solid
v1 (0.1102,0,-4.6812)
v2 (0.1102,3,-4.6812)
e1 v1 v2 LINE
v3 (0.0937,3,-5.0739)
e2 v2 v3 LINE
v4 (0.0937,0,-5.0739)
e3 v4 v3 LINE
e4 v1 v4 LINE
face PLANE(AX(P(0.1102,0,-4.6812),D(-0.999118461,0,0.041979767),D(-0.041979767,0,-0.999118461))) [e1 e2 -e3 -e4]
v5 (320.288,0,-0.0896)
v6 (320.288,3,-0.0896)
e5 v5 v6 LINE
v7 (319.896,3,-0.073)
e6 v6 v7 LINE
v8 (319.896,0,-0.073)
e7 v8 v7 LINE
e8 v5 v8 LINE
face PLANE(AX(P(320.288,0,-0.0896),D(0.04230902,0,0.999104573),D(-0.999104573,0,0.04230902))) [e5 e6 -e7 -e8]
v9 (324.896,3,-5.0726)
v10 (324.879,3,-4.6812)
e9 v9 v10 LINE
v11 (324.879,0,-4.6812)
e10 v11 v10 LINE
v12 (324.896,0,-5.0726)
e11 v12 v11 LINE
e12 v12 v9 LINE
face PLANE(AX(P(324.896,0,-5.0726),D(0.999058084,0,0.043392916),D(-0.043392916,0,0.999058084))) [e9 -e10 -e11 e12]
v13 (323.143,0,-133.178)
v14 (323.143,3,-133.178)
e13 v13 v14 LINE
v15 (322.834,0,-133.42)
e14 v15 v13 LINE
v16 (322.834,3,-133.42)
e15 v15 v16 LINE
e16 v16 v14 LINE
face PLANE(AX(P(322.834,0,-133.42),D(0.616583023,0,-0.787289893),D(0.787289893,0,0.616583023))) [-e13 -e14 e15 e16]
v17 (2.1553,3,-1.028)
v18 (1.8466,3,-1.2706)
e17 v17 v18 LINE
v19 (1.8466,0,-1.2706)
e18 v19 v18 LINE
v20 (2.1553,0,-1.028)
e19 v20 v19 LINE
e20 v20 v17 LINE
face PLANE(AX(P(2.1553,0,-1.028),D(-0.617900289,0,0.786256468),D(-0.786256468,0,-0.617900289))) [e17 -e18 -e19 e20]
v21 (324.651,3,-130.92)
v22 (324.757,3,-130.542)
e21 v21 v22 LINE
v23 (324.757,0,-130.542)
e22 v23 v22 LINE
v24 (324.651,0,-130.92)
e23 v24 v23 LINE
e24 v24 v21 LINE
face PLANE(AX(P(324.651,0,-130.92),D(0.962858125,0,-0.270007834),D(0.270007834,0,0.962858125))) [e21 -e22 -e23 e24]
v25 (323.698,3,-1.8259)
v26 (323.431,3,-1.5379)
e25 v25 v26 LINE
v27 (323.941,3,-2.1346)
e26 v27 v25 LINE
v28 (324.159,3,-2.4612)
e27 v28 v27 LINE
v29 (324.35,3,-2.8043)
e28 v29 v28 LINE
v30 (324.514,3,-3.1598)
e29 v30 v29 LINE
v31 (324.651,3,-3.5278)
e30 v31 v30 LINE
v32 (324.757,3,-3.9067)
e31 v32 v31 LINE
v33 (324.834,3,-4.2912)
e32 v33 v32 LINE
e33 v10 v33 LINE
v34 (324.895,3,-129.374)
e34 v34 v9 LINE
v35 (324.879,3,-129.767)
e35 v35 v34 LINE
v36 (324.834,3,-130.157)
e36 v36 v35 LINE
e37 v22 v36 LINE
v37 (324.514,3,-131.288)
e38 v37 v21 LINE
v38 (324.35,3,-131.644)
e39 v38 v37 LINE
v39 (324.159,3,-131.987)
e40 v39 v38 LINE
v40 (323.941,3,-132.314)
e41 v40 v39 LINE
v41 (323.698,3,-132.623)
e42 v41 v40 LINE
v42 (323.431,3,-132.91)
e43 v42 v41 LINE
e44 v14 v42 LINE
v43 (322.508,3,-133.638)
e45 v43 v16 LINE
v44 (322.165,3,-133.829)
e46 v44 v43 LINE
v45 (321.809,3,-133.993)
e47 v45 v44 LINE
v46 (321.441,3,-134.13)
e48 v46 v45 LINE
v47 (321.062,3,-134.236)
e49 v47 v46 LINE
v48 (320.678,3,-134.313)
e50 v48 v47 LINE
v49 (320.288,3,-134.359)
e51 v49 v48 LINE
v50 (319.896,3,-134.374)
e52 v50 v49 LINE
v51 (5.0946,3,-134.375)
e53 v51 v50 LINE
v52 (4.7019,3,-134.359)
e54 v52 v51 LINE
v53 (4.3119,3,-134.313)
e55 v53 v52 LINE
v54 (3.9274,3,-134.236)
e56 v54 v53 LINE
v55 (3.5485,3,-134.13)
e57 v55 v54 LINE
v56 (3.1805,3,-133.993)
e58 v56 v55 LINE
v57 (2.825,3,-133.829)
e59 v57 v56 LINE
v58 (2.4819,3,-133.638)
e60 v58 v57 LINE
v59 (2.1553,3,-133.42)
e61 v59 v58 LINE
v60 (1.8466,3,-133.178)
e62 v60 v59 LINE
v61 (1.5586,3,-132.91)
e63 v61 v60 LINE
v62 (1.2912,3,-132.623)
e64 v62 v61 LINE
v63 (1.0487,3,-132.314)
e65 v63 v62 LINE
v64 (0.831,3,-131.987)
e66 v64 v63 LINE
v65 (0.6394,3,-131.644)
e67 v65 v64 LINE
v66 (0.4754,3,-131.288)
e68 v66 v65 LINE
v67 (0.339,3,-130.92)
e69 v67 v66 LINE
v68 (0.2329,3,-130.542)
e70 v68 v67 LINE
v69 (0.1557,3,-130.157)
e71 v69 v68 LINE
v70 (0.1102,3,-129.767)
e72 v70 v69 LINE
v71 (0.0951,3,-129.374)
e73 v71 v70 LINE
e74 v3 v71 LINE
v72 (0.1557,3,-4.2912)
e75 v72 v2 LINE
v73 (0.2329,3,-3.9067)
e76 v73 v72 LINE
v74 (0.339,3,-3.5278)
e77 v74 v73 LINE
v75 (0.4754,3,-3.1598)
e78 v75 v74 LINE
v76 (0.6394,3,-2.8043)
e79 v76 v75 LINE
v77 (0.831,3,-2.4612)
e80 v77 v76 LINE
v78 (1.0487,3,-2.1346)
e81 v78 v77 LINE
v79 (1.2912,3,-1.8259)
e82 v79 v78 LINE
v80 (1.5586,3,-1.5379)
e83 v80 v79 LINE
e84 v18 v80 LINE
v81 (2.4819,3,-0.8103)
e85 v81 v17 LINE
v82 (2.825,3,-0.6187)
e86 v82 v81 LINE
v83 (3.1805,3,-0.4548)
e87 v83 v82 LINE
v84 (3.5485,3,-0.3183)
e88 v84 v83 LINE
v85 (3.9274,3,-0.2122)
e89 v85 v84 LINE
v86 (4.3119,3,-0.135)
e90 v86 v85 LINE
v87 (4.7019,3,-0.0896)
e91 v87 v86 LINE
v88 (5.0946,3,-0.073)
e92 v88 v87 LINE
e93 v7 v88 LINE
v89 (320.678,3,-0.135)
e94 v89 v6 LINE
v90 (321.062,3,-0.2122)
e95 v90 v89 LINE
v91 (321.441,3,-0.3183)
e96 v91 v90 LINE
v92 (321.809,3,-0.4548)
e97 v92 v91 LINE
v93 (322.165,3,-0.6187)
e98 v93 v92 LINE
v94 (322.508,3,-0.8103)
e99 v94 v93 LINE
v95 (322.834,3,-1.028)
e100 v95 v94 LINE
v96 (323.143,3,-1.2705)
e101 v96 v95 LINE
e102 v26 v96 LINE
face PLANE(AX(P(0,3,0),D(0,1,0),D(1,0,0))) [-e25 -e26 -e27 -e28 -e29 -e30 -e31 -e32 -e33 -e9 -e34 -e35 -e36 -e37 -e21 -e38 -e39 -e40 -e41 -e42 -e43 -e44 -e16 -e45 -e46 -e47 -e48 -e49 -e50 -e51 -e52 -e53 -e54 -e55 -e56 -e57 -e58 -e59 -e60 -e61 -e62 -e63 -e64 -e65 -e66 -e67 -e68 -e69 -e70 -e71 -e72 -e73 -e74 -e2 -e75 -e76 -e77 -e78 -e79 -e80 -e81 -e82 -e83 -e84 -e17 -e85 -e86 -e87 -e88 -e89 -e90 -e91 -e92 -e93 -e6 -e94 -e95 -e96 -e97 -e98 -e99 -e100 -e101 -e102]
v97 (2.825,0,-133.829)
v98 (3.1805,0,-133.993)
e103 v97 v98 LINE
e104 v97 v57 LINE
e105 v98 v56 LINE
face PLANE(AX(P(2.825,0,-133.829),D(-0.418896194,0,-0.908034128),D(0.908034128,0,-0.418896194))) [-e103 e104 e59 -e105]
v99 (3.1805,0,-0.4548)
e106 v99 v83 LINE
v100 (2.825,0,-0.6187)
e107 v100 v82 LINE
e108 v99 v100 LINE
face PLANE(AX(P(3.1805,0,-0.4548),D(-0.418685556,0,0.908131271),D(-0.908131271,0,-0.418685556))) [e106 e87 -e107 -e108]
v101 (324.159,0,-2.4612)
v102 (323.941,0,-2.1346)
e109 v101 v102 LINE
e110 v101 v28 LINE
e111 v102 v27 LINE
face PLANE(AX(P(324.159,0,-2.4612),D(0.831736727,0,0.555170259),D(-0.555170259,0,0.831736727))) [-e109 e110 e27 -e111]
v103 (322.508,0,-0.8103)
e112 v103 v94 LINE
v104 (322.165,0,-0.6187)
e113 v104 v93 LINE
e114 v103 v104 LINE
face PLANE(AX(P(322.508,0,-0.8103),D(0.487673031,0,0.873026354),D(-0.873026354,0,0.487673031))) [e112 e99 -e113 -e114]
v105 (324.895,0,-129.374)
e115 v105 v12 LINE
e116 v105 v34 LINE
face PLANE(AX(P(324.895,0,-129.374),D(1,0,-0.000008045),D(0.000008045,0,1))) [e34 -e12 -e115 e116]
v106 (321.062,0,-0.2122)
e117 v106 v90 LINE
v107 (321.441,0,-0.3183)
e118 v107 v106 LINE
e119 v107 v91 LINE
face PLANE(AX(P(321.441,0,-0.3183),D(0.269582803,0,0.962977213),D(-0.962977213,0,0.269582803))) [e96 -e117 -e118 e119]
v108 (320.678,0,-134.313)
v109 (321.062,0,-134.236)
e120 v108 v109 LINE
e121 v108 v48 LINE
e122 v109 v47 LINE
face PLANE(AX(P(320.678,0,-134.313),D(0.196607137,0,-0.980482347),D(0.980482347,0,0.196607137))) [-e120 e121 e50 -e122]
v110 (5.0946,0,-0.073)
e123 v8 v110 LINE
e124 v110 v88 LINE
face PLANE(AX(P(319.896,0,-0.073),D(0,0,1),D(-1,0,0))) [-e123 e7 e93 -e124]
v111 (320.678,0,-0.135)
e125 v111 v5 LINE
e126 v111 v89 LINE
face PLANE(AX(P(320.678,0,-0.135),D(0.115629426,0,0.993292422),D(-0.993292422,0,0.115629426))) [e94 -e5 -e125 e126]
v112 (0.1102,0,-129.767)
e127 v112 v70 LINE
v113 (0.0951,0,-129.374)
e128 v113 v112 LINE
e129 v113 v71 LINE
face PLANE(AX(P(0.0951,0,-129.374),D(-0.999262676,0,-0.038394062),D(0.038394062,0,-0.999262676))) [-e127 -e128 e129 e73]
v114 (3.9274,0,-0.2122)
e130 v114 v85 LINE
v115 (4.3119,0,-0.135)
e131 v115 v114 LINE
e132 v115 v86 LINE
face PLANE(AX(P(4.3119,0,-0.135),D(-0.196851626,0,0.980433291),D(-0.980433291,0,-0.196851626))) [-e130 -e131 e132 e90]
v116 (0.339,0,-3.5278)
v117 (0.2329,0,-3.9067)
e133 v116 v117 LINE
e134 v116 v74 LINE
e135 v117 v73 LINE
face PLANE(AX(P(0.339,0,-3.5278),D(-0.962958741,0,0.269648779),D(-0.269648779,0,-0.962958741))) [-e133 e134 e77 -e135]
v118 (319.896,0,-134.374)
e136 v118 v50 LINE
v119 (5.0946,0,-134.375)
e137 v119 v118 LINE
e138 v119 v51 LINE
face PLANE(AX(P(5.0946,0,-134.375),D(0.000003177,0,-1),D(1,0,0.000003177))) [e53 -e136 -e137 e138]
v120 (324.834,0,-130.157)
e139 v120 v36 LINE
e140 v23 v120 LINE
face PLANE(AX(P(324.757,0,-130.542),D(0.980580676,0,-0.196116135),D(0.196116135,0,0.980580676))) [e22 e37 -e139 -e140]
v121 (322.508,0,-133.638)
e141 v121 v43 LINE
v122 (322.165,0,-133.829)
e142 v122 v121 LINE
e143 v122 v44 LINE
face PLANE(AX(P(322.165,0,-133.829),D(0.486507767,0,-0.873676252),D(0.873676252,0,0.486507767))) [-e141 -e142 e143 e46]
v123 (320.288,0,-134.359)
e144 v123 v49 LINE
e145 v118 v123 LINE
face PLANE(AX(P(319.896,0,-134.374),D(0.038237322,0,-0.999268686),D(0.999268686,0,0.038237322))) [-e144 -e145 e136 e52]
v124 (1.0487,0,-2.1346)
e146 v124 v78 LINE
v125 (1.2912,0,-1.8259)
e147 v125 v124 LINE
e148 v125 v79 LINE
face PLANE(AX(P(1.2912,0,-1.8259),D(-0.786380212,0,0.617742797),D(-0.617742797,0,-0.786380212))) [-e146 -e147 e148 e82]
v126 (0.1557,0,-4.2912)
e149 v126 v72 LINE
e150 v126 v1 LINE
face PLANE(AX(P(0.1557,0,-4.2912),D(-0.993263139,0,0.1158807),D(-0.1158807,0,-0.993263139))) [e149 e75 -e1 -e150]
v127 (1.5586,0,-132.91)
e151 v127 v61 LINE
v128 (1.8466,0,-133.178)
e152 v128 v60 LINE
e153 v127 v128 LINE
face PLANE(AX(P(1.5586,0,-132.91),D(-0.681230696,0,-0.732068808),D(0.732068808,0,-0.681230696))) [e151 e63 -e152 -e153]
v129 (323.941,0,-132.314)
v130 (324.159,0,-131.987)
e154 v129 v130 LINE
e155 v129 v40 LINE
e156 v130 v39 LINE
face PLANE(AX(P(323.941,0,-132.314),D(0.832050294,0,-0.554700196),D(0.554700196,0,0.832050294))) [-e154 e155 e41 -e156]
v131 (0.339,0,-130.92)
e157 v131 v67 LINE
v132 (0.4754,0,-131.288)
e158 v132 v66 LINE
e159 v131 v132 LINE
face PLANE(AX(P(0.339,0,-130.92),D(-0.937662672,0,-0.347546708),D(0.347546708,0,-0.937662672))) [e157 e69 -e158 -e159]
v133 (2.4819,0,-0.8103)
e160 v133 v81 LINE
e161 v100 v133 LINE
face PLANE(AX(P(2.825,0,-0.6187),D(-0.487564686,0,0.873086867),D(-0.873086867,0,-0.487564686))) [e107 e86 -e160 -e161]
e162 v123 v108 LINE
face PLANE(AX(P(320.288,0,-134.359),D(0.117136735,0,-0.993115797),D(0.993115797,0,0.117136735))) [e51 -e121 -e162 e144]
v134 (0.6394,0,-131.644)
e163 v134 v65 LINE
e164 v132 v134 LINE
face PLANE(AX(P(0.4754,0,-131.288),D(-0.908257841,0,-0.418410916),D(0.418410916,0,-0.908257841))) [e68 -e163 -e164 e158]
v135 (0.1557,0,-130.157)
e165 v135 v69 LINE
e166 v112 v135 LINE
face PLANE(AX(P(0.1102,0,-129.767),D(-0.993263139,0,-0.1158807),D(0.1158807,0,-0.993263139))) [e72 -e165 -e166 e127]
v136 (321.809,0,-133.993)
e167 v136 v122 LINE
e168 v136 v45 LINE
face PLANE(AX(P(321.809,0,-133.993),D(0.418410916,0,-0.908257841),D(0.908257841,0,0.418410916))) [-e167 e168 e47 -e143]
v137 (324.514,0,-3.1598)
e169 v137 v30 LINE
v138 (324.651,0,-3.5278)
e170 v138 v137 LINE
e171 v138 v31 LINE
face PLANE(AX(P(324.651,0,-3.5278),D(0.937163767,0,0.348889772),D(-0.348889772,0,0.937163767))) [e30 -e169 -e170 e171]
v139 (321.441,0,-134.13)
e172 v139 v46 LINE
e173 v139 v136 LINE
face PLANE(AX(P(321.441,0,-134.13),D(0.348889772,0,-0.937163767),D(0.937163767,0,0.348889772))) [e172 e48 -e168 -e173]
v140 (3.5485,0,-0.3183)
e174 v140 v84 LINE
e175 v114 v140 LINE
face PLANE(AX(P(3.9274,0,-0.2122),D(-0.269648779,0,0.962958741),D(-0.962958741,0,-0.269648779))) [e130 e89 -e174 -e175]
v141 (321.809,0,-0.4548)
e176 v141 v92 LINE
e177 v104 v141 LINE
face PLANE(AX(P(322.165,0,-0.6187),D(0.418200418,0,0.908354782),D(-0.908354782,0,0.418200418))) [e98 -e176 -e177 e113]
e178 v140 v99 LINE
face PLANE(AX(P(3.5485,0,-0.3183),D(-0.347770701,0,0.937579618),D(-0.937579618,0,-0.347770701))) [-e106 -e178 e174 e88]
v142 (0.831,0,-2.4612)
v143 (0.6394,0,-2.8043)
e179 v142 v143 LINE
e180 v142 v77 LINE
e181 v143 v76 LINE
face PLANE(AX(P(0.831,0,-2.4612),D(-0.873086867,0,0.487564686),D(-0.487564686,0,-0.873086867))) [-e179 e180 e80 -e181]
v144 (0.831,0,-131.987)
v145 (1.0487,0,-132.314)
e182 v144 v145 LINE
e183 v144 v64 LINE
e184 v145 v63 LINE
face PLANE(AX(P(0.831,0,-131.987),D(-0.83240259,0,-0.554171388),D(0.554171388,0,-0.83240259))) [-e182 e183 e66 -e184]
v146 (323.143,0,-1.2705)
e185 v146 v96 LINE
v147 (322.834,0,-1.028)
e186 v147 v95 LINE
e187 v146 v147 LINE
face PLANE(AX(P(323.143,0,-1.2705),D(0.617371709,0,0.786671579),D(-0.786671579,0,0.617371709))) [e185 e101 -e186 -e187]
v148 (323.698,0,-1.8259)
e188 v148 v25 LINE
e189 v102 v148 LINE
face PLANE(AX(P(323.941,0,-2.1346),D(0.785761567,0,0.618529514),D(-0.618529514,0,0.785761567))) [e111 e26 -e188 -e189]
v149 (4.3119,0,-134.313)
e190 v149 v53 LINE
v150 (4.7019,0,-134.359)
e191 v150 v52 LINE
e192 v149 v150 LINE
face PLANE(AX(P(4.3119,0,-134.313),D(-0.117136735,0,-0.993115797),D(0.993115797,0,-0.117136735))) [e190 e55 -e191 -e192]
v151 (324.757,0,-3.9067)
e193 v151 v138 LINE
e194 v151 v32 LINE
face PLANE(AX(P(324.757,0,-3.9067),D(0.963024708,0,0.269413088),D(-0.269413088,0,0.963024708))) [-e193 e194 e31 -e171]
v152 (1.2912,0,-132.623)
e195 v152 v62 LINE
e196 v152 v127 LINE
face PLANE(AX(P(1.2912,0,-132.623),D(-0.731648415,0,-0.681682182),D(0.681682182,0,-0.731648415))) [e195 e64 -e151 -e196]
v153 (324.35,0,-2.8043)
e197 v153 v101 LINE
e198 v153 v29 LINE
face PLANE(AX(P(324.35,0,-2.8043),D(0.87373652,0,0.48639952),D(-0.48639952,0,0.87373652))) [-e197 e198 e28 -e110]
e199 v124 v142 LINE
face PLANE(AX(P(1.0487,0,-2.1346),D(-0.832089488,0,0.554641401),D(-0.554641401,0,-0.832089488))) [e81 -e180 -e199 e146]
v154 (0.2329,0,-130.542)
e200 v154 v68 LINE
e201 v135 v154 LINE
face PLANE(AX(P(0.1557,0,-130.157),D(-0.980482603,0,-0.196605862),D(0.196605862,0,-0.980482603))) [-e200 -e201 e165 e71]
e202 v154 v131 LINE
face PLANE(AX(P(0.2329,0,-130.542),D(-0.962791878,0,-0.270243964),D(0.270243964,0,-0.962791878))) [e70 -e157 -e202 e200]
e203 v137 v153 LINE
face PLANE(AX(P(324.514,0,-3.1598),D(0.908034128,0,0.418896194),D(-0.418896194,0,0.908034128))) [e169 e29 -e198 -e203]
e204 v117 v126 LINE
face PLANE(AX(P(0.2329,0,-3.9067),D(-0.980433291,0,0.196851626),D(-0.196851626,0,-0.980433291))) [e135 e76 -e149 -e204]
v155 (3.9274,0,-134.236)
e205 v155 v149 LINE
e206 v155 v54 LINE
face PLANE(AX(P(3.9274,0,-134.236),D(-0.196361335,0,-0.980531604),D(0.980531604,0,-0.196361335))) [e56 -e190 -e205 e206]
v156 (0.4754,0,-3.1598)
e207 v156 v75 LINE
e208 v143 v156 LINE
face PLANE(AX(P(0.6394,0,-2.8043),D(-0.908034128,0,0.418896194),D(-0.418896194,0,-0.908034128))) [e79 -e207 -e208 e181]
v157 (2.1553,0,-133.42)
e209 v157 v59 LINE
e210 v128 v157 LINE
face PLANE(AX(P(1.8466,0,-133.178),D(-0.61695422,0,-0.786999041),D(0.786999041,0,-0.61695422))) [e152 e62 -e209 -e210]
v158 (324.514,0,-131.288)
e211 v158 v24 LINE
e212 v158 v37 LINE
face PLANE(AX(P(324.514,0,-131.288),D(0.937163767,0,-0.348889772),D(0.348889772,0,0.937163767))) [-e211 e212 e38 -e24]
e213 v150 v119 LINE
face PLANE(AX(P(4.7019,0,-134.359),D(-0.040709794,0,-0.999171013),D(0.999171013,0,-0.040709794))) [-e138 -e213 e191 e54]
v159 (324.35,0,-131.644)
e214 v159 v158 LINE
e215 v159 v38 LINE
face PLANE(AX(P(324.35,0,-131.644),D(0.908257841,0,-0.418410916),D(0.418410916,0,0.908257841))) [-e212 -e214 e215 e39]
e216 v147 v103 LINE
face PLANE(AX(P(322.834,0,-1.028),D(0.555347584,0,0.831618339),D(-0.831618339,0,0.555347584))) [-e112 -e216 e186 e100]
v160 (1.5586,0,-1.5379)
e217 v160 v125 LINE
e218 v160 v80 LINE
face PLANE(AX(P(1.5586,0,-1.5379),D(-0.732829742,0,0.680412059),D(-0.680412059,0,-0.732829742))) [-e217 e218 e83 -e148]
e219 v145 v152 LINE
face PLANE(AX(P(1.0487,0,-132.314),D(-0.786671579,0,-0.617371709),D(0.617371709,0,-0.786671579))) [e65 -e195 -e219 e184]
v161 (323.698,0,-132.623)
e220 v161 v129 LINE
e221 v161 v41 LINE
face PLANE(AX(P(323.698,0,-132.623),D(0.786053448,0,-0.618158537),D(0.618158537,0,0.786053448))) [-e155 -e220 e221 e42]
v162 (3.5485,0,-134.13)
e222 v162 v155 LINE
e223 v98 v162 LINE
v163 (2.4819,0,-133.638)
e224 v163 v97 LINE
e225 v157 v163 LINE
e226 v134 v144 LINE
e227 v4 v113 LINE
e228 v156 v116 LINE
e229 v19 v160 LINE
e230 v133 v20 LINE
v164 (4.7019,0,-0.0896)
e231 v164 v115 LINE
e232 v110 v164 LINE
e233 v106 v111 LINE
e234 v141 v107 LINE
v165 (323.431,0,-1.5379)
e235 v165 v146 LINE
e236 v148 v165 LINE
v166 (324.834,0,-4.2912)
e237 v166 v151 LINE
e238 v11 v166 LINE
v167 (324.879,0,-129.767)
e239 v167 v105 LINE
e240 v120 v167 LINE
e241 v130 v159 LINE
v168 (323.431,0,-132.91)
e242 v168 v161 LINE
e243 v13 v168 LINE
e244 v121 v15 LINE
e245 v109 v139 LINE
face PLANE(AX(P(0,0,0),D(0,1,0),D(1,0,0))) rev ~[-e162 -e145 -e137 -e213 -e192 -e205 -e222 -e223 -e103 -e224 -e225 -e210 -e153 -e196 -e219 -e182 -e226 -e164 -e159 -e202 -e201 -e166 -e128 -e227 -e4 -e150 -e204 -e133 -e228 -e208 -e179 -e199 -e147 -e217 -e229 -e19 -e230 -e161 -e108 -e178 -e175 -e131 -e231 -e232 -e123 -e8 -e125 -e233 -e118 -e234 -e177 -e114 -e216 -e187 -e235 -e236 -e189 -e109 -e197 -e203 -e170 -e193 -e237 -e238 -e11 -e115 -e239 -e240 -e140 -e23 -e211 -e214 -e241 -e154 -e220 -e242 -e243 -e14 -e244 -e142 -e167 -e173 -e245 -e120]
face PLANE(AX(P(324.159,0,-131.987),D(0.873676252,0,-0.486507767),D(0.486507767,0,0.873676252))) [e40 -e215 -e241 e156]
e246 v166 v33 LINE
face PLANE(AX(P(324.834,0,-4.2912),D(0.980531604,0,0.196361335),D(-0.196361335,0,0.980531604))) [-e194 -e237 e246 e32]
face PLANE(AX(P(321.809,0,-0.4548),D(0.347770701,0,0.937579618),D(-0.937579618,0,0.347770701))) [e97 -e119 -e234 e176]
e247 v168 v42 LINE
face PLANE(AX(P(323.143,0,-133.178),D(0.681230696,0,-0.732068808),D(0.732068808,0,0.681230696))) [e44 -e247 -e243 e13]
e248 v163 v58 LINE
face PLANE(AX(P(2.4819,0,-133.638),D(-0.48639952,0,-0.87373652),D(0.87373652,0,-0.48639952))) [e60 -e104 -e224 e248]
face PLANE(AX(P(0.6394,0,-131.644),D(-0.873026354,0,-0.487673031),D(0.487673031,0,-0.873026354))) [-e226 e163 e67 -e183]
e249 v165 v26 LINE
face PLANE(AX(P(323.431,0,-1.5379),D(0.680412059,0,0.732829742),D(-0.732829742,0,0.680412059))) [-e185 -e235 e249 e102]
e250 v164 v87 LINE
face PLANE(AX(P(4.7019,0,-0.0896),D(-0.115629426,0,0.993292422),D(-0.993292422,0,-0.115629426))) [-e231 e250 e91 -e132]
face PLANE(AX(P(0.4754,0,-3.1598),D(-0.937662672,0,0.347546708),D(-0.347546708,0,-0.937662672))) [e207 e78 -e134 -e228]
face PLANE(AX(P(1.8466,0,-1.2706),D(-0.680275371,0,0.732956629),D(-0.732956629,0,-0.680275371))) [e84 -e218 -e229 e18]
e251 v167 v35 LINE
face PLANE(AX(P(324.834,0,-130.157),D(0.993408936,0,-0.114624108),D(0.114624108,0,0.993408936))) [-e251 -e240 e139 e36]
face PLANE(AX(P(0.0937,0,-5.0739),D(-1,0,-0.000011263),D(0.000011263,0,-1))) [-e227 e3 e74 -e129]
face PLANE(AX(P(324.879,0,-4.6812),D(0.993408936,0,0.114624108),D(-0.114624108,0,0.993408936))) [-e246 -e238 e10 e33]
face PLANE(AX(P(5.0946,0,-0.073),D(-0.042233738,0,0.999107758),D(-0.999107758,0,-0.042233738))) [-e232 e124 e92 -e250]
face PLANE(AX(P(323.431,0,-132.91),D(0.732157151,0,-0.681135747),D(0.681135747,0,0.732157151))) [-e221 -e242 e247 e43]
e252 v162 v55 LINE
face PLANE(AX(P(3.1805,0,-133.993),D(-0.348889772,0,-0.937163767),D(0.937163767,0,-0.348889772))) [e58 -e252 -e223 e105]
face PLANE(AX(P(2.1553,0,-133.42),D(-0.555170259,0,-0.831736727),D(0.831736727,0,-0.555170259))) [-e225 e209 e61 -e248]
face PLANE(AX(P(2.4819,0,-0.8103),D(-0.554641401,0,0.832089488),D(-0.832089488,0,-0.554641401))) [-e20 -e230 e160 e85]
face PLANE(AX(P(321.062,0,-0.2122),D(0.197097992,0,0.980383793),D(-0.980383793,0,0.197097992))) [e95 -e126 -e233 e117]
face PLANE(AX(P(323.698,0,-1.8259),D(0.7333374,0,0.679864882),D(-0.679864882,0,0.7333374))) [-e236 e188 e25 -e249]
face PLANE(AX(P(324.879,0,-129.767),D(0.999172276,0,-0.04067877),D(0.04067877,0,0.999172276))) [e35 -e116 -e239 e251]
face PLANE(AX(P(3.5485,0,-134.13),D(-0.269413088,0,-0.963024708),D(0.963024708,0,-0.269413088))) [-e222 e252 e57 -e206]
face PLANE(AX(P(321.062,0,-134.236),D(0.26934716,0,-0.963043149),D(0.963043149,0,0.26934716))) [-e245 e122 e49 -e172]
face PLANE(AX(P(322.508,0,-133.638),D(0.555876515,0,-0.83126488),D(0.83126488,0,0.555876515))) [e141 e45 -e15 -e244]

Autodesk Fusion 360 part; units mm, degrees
sketch "Sketch1" plane through (0, 0, 0) normal (0, 1, 0) x (1, 0, 0)
sketch "Sketch2" plane through (0, 0, 0) normal (0, 1, 0) x (1, 0, 0)
  line L0 (0.4754, 3.1598) -> (0.339, 3.5278)
  line L1 (0.1557, 4.2912) -> (0.1102, 4.6812)
  line L2 (321.809, 133.993) -> (322.165, 133.829)
  line L3 (322.165, 133.829) -> (322.508, 133.638)
  line L4 (323.698, 1.8259) -> (323.431, 1.5379)
  line L5 (324.757, 3.9067) -> (324.651, 3.5278)
  line L6 (324.159, 2.4612) -> (323.941, 2.1346)
  line L7 (3.1805, 0.4548) -> (2.825, 0.6187)
  line L8 (4.7019, 0.0896) -> (4.3119, 0.135)
  line L9 (319.896, 134.374) -> (320.288, 134.359)
  line L10 (324.879, 4.6812) -> (324.834, 4.2912)
  line L11 (323.941, 132.314) -> (324.159, 131.987)
  line L12 (324.651, 3.5278) -> (324.514, 3.1598)
  line L13 (2.1553, 1.028) -> (1.8466, 1.2706)
  line L14 (319.896, 0.073) -> (5.0946, 0.073)
  line L15 (0.6394, 2.8043) -> (0.4754, 3.1598)
  line L16 (0.2329, 3.9067) -> (0.1557, 4.2912)
  line L17 (0.339, 3.5278) -> (0.2329, 3.9067)
  line L18 (2.825, 0.6187) -> (2.4819, 0.8103)
  line L19 (4.3119, 0.135) -> (3.9274, 0.2122)
  line L20 (324.834, 130.157) -> (324.879, 129.767)
  line L21 (1.2912, 1.8259) -> (1.0487, 2.1346)
  line L22 (322.834, 1.028) -> (322.508, 0.8103)
  line L23 (321.441, 0.3183) -> (321.062, 0.2122)
  line L24 (323.698, 132.623) -> (323.941, 132.314)
  line L25 (0.831, 2.4612) -> (0.6394, 2.8043)
  line L26 (320.288, 134.359) -> (320.678, 134.313)
  line L27 (1.8466, 1.2706) -> (1.5586, 1.5379)
  line L28 (1.5586, 1.5379) -> (1.2912, 1.8259)
  line L29 (0.0937, 5.0739) -> (0.0951, 129.374)
  line L30 (1.0487, 132.314) -> (1.2912, 132.623)
  line L31 (0.4754, 131.288) -> (0.6394, 131.644)
  line L32 (320.678, 134.313) -> (321.062, 134.236)
  line L33 (0.831, 131.987) -> (1.0487, 132.314)
  line L34 (3.9274, 134.236) -> (4.3119, 134.313)
  line L35 (324.159, 131.987) -> (324.35, 131.644)
  line L36 (3.1805, 133.993) -> (3.5485, 134.13)
  line L37 (3.9274, 0.2122) -> (3.5485, 0.3183)
  line L38 (324.514, 3.1598) -> (324.35, 2.8043)
  line L39 (324.35, 2.8043) -> (324.159, 2.4612)
  line L40 (322.508, 0.8103) -> (322.165, 0.6187)
  line L41 (5.0946, 0.073) -> (4.7019, 0.0896)
  line L42 (324.651, 130.92) -> (324.757, 130.542)
  line L43 (3.5485, 0.3183) -> (3.1805, 0.4548)
  line L44 (324.514, 131.288) -> (324.651, 130.92)
  line L45 (320.678, 0.135) -> (320.288, 0.0896)
  line L46 (1.5586, 132.91) -> (1.8466, 133.178)
  line L47 (0.1102, 4.6812) -> (0.0937, 5.0739)
  line L48 (322.508, 133.638) -> (322.834, 133.42)
  line L49 (5.0946, 134.375) -> (319.896, 134.374)
  line L50 (321.809, 0.4548) -> (321.441, 0.3183)
  line L51 (324.895, 129.374) -> (324.896, 5.0726)
  line L52 (323.431, 1.5379) -> (323.143, 1.2705)
  line L53 (322.165, 0.6187) -> (321.809, 0.4548)
  line L54 (323.941, 2.1346) -> (323.698, 1.8259)
  line L55 (324.896, 5.0726) -> (324.879, 4.6812)
  line L56 (322.834, 133.42) -> (323.143, 133.178)
  line L57 (323.431, 132.91) -> (323.698, 132.623)
  line L58 (324.35, 131.644) -> (324.514, 131.288)
  line L59 (324.757, 130.542) -> (324.834, 130.157)
  line L60 (321.062, 0.2122) -> (320.678, 0.135)
  line L61 (2.4819, 0.8103) -> (2.1553, 1.028)
  line L62 (0.1102, 129.767) -> (0.1557, 130.157)
  line L63 (321.441, 134.13) -> (321.809, 133.993)
  line L64 (324.879, 129.767) -> (324.895, 129.374)
  line L65 (1.0487, 2.1346) -> (0.831, 2.4612)
  line L66 (0.0951, 129.374) -> (0.1102, 129.767)
  line L67 (324.834, 4.2912) -> (324.757, 3.9067)
  line L68 (4.3119, 134.313) -> (4.7019, 134.359)
  line L69 (0.339, 130.92) -> (0.4754, 131.288)
  line L70 (1.2912, 132.623) -> (1.5586, 132.91)
  line L71 (0.2329, 130.542) -> (0.339, 130.92)
  line L72 (0.6394, 131.644) -> (0.831, 131.987)
  line L73 (2.4819, 133.638) -> (2.825, 133.829)
  line L74 (4.7019, 134.359) -> (5.0946, 134.375)
  line L75 (323.143, 133.178) -> (323.431, 132.91)
  line L76 (323.143, 1.2706) -> (322.834, 1.028)
  line L77 (320.288, 0.0896) -> (319.896, 0.073)
  line L78 (321.062, 134.236) -> (321.441, 134.13)
  line L79 (1.8466, 133.178) -> (2.1553, 133.42)
  line L80 (0.1557, 130.157) -> (0.2329, 130.542)
  line L81 (3.5485, 134.13) -> (3.9274, 134.236)
  line L82 (2.825, 133.829) -> (3.1805, 133.993)
  line L83 (2.1553, 133.42) -> (2.4819, 133.638)
extrude "Extrude1" add sketch "Sketch2" along normal blind 3
